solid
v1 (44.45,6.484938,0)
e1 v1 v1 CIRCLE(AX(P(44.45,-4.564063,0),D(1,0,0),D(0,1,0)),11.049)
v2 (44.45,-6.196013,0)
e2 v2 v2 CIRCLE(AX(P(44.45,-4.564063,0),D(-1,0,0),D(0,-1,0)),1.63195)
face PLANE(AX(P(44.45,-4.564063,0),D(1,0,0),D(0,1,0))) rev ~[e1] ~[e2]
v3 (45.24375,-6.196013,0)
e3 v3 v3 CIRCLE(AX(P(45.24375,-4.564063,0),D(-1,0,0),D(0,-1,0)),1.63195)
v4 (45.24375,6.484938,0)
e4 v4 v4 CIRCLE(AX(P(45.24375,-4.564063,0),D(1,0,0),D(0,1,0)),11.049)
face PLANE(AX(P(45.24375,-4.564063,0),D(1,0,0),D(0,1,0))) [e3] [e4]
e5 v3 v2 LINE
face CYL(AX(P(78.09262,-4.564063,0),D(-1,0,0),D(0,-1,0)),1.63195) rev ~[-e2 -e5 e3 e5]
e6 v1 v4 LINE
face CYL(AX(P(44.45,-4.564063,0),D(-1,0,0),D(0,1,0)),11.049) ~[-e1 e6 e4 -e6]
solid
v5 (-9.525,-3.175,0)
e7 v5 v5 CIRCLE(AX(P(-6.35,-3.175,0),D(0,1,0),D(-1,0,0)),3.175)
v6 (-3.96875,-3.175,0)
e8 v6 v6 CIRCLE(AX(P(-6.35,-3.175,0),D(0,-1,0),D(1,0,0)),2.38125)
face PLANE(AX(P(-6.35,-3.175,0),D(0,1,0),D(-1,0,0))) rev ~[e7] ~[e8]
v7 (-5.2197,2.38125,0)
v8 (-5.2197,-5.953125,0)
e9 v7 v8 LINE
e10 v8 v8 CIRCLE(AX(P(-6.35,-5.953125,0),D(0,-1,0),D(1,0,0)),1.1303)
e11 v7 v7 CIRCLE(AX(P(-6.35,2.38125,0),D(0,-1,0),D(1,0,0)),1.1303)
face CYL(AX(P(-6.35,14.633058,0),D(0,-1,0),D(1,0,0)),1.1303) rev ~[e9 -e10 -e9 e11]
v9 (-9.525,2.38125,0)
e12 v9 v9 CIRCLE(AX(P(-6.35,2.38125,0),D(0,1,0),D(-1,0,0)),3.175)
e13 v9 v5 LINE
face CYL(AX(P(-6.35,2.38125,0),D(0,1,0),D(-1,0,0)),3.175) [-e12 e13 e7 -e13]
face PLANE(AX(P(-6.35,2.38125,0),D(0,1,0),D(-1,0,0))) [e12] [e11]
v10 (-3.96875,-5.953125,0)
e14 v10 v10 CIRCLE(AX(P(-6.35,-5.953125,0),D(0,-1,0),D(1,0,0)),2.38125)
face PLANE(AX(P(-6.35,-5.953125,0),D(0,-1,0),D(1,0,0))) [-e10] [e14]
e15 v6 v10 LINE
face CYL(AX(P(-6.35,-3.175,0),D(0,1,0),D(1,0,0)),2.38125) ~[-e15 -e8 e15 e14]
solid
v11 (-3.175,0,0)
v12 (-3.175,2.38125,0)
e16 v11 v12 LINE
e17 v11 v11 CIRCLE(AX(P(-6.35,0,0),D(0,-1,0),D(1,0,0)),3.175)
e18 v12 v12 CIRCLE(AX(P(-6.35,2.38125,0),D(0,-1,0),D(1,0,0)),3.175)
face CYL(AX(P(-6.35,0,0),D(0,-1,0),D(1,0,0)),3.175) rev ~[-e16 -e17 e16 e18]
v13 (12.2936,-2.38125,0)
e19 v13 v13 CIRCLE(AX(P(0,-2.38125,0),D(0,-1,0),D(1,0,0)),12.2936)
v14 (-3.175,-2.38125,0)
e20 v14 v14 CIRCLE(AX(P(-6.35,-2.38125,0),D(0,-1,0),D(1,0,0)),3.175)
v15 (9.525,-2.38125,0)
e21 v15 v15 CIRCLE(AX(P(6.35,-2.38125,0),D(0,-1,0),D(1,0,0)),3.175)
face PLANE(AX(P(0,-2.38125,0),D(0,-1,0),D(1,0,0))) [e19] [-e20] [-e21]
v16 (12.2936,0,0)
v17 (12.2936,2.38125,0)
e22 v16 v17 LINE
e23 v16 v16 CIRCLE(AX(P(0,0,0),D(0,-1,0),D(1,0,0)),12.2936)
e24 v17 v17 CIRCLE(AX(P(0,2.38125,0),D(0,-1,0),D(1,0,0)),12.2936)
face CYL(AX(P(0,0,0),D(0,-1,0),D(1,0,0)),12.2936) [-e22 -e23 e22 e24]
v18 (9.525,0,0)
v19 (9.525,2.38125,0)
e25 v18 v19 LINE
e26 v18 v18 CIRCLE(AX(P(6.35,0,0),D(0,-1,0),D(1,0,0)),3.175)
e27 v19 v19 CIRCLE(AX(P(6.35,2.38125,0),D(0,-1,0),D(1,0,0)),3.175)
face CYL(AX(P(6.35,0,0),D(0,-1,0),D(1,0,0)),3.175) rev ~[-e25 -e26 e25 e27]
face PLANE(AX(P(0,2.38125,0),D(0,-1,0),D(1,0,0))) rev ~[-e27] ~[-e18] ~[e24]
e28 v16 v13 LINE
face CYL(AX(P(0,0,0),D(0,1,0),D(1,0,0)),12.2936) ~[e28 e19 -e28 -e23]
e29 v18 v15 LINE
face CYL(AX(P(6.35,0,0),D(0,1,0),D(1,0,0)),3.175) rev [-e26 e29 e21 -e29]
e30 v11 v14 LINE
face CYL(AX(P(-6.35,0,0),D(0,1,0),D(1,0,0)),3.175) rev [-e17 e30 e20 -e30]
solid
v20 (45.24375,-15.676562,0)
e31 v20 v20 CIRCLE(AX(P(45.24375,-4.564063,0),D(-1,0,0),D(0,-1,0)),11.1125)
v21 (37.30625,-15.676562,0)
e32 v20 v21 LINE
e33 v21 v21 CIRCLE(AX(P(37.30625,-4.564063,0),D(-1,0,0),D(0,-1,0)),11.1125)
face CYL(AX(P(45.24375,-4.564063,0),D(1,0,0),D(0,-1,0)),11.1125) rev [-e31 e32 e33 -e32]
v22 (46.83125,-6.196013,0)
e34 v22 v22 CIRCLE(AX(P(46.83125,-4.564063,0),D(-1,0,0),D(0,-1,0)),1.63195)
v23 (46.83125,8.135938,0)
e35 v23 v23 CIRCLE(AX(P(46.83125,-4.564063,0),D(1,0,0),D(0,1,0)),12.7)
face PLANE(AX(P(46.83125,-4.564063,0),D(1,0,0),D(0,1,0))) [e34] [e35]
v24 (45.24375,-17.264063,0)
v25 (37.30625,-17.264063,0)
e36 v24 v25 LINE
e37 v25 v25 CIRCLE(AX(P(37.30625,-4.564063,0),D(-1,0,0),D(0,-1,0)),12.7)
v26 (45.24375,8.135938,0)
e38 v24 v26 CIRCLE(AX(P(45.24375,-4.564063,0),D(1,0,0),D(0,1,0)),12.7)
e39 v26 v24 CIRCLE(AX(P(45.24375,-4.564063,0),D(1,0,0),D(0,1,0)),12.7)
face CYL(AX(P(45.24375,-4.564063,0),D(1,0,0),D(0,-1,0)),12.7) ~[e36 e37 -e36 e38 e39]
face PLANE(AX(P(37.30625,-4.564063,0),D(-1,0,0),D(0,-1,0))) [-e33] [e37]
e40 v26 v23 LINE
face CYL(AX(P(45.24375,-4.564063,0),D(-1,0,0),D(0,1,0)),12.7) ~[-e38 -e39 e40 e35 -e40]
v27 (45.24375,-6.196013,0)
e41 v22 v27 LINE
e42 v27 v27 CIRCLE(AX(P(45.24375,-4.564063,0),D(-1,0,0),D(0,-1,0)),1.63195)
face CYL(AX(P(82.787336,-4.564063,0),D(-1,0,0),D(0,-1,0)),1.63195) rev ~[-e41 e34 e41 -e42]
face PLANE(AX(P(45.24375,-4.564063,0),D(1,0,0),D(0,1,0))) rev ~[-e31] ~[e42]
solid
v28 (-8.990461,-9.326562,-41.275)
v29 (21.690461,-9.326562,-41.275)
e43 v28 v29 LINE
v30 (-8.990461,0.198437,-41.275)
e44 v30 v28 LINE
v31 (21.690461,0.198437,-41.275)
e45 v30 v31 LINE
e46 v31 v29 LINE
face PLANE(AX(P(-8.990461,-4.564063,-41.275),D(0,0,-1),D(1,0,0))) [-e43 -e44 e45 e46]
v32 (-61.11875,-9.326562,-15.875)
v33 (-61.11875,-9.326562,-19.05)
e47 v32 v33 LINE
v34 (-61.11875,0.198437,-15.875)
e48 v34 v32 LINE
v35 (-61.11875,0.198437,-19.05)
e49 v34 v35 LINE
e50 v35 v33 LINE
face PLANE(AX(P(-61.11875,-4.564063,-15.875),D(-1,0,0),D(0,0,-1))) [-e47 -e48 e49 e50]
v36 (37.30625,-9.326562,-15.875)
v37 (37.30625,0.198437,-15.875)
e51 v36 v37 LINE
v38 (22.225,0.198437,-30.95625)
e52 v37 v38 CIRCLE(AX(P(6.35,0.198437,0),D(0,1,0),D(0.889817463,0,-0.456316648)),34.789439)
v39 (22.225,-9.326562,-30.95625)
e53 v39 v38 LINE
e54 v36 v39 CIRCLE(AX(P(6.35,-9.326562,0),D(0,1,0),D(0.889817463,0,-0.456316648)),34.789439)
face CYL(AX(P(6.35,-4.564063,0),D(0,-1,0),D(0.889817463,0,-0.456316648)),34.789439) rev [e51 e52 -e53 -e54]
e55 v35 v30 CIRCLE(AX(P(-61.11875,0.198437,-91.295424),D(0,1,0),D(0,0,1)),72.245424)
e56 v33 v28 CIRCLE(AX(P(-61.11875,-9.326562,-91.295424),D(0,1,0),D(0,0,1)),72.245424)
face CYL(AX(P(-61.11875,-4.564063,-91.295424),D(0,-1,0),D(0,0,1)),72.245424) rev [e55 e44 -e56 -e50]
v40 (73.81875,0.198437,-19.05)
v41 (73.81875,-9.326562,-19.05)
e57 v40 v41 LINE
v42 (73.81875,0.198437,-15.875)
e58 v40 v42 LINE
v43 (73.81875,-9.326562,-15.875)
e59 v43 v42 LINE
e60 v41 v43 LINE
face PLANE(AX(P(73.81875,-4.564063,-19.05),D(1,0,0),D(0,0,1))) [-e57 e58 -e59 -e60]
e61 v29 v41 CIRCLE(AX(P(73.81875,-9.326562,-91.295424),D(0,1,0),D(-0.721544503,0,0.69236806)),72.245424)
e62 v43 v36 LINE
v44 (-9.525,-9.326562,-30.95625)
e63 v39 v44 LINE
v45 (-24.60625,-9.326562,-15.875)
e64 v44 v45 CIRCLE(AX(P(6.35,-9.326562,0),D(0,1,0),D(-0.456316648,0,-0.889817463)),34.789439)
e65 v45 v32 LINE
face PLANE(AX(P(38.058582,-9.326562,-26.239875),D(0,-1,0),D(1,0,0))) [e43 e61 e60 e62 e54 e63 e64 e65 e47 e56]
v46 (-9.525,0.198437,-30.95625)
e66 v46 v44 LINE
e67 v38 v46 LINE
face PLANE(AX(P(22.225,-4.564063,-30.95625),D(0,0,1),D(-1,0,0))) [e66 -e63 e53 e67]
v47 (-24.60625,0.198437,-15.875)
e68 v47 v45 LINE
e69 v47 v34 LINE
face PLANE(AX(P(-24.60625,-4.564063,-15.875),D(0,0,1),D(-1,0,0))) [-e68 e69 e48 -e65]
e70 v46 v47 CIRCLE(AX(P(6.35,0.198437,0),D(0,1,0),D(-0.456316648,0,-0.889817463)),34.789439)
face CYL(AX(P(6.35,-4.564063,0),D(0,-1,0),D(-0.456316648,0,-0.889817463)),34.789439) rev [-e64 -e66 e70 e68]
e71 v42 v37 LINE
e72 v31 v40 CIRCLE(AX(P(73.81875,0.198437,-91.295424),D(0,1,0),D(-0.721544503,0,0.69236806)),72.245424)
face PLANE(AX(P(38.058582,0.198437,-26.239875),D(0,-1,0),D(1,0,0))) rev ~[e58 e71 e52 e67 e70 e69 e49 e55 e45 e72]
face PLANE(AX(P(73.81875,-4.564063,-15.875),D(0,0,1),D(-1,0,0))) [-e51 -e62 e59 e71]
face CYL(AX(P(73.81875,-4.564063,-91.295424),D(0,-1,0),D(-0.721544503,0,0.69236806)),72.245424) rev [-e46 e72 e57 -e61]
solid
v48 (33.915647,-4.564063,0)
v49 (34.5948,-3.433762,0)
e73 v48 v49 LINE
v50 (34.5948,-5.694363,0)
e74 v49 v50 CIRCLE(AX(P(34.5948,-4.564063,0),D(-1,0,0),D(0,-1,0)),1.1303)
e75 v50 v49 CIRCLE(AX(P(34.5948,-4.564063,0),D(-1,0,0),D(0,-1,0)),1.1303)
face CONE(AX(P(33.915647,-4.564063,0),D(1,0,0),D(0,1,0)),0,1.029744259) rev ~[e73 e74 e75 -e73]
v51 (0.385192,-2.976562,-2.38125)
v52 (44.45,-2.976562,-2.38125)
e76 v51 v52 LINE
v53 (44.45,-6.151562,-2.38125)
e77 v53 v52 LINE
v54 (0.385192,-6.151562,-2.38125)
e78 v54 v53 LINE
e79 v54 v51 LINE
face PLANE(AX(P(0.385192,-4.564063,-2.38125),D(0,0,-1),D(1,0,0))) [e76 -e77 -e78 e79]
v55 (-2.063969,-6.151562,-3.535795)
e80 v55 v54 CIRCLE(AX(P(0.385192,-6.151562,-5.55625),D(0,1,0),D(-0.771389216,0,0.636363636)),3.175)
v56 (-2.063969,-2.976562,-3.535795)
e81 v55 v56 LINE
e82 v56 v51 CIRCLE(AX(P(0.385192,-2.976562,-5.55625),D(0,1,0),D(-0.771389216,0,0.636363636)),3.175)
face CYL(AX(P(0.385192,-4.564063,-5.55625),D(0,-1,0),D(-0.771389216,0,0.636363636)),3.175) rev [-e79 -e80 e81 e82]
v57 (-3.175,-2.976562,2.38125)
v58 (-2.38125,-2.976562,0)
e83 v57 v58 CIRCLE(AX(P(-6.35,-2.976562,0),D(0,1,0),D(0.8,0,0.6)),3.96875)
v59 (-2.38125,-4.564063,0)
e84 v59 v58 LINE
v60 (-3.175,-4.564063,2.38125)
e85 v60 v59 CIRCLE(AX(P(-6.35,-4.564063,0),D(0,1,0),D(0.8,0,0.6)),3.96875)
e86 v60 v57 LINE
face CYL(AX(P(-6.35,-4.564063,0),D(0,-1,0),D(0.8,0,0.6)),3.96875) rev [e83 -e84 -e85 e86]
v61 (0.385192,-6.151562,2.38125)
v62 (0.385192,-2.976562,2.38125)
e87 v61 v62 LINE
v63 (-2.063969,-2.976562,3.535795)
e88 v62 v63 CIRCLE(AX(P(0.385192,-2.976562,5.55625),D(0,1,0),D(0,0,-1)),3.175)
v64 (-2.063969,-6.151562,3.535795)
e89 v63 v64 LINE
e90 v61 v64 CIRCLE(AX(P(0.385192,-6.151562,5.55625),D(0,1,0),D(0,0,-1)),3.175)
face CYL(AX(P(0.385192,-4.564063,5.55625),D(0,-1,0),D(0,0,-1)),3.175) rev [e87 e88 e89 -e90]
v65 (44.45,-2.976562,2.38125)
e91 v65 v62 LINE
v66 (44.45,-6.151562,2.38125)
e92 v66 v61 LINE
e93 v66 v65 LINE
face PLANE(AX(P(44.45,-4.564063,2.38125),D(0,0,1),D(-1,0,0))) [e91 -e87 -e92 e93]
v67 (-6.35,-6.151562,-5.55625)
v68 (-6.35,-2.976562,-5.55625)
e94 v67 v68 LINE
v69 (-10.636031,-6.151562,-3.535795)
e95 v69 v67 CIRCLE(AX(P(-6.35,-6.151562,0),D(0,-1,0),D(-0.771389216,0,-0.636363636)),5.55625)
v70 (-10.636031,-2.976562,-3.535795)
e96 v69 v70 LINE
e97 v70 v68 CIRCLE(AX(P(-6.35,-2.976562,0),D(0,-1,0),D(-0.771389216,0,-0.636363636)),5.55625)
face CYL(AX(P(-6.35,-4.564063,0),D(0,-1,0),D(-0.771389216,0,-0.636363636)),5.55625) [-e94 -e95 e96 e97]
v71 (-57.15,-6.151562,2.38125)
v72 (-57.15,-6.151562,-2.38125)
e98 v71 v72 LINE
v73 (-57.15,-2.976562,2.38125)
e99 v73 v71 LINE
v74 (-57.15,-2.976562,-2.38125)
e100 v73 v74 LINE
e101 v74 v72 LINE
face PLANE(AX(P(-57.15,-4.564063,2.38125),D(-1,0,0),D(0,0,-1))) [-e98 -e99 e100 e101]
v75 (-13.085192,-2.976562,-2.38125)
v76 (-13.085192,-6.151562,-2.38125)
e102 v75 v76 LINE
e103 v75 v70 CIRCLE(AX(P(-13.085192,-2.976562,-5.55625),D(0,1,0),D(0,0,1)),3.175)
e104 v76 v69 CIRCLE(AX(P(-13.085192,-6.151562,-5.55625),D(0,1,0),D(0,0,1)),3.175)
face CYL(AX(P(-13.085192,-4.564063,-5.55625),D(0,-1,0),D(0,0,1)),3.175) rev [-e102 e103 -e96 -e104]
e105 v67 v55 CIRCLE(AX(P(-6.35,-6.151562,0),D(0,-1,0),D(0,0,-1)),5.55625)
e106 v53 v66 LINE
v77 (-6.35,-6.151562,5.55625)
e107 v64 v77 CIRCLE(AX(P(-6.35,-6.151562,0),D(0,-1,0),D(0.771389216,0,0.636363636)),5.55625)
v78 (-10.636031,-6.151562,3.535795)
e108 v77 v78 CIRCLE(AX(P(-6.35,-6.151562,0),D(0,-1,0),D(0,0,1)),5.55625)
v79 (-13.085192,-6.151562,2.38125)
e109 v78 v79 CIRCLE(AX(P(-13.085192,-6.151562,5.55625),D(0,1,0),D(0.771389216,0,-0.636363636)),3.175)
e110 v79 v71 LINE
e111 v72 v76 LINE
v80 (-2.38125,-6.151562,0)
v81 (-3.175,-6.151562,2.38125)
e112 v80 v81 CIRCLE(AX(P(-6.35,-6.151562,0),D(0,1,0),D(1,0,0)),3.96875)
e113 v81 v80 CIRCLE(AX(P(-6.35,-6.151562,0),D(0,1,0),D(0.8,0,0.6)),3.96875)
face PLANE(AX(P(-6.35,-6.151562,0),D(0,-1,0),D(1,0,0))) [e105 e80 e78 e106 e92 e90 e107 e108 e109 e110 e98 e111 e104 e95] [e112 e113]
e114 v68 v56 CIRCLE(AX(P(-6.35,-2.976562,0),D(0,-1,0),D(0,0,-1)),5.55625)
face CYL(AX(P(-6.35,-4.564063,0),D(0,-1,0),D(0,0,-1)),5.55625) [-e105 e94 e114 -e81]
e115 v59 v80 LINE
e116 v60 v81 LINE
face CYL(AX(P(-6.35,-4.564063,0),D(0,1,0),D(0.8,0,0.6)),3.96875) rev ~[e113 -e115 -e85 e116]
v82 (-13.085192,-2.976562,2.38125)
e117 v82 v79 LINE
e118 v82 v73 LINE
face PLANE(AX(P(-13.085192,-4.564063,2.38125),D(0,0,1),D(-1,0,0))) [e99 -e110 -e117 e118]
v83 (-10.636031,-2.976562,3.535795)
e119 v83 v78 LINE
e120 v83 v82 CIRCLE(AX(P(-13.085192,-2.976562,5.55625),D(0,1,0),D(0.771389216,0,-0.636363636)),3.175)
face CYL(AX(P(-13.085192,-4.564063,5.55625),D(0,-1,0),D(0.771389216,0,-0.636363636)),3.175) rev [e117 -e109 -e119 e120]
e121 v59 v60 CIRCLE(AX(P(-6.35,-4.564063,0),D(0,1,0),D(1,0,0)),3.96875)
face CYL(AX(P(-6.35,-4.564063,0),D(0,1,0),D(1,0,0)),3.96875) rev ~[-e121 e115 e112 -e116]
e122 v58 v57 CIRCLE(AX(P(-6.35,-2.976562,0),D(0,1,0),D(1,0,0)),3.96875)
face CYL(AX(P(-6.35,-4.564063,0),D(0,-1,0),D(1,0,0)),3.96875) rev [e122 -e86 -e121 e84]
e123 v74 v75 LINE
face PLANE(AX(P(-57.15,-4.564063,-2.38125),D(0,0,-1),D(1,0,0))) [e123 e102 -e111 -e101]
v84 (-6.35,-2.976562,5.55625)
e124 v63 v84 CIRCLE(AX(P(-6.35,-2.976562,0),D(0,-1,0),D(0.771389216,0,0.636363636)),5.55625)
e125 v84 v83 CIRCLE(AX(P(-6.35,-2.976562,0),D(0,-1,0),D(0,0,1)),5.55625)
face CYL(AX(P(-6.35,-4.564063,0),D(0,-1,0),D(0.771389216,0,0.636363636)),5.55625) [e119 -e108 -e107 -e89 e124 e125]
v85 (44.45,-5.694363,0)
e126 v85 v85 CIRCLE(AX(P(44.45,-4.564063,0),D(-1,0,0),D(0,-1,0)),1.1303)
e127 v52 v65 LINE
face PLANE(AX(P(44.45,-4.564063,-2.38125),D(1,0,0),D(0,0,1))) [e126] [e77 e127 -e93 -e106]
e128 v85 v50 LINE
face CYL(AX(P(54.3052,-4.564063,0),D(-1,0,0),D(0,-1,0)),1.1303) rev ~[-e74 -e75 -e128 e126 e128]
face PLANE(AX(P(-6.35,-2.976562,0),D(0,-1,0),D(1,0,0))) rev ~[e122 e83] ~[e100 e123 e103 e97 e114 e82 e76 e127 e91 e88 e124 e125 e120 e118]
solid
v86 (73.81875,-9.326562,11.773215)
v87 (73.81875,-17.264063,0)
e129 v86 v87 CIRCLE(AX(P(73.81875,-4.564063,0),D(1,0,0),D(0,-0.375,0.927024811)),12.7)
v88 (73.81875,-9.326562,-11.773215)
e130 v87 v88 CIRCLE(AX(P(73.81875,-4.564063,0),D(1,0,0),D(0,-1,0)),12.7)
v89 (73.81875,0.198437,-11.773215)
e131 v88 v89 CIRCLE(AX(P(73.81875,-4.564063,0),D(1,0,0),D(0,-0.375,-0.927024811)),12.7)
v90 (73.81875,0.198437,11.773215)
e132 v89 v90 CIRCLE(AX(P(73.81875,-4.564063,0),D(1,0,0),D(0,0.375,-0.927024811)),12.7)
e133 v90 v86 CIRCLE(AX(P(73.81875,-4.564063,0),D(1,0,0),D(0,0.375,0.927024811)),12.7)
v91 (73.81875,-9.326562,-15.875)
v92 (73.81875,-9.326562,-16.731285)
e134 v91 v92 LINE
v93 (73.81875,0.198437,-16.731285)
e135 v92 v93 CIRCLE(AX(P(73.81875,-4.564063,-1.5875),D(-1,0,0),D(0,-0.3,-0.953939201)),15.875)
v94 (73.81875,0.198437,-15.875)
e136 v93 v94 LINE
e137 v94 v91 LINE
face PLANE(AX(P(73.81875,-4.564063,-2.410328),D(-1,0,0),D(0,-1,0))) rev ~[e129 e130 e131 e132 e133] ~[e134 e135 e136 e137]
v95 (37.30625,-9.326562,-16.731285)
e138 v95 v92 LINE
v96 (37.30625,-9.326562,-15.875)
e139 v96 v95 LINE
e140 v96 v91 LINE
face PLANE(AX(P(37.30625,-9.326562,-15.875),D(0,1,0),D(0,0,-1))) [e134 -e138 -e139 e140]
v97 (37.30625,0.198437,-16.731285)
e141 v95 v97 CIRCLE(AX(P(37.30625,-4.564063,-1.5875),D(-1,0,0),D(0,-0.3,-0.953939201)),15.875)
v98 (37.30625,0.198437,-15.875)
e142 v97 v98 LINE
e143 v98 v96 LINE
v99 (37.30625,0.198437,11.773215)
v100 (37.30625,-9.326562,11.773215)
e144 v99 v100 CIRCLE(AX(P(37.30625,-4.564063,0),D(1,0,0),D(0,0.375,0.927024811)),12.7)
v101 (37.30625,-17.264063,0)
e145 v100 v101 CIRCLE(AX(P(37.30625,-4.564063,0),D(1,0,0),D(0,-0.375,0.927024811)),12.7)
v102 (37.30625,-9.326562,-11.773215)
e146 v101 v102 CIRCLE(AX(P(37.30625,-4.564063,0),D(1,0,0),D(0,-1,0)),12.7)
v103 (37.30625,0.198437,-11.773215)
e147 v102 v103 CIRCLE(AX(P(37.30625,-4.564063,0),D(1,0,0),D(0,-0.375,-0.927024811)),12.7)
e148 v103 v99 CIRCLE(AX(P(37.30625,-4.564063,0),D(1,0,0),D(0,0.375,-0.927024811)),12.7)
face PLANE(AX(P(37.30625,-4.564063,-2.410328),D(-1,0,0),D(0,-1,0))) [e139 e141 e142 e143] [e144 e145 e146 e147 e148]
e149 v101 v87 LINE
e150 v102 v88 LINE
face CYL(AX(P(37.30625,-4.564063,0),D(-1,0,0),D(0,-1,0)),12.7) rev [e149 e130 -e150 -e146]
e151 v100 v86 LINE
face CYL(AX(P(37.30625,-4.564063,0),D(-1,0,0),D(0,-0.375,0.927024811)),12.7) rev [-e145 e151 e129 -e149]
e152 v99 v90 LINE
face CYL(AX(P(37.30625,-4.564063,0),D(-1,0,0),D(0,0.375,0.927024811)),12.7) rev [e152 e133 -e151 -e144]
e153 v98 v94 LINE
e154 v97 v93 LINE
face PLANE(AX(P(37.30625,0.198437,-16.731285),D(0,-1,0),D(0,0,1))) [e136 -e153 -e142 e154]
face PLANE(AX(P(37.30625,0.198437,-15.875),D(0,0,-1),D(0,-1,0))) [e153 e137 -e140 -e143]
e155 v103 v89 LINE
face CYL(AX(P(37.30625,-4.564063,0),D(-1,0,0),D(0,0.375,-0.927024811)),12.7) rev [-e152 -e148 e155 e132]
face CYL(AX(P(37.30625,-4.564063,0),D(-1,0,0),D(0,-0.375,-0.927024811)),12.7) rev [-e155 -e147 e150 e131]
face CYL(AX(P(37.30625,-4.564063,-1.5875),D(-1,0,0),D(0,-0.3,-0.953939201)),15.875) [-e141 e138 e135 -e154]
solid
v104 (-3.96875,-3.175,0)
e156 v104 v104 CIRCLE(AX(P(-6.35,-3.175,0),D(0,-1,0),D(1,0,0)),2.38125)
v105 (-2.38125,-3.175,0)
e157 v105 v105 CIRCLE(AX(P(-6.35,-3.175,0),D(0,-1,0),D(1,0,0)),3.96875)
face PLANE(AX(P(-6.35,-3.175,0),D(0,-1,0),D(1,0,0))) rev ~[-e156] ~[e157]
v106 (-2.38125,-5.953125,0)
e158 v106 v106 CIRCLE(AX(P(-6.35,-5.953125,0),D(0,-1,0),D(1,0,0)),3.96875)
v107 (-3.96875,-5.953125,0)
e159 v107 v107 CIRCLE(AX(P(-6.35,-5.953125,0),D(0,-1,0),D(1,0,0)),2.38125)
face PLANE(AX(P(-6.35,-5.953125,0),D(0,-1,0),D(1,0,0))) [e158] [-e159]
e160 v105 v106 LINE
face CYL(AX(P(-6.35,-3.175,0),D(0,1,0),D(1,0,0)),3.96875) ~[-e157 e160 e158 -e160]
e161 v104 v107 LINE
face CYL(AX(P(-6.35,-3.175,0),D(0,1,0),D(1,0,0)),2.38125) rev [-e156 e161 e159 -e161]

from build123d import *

# Parameters (mm, degrees)
F0_R           = 12.2936
F0_R_2         = 3.175
F1_DEPTH       = 2.38125
F1_DEPTH_BACK  = 2.38125
F2_R           = 3.175
F3_DEPTH       = 5.55625
F4_R           = 2.38125
F5_DEPTH       = 2.778125
F7_D           = 2.2606
F8_R           = 3.96875
F8_R_2         = 2.38125
F9_DEPTH       = 2.778125
F12_DEPTH      = 1.5875
F12_DEPTH_BACK = 1.5875
F14_D          = 2.2606
F14_DEPTH      = 9.8552
F14_TIP        = 0.6791527577
F15_R          = 11.049
F16_DEPTH      = 0.79375
F17_R          = 12.7
F18_DEPTH      = 1.5875
F20_D          = 3.2639
F20_2_D        = 3.2639
F21_R          = 12.7
F21_R_2        = 11.1125
F22_DEPTH      = 7.9375
F24_DEPTH      = 36.5125
F27_DEPTH      = 4.7625
F27_DEPTH_BACK = 4.7625


with BuildPart() as f1:
    # F0 (on Front) → F1 (new body, two sides)
    with BuildSketch(Plane.XZ) as f1_sk:
        Circle(F0_R)
        with Locations((-6.35, 0)):
            Circle(F0_R_2, mode=Mode.SUBTRACT)
        with Locations((6.35, 0)):
            Circle(F0_R_2, mode=Mode.SUBTRACT)
    extrude(amount=-F1_DEPTH)
    extrude(f1_sk.sketch, amount=F1_DEPTH_BACK)


with BuildPart() as f3:
    # F2 (on face) → F3 (new body)
    with BuildSketch(Plane(origin=(0, 2.38125, 0), x_dir=(-1, 0, 0), z_dir=(0, 1, 0))):
        with Locations((6.35, 0)):
            Circle(F2_R)
    extrude(amount=-F3_DEPTH)

    # F4 (on face) → F5 (join)
    with BuildSketch(Plane.XZ.offset(3.175)):
        with Locations((-6.35, 0)):
            Circle(F4_R)
    extrude(amount=F5_DEPTH)

    # F7 (through all)
    with Locations(Plane(origin=(0, 2.38125, 0), x_dir=(-1, 0, 0), z_dir=(0, 1, 0))):
        with Locations((6.35, 0)):
            Hole(F7_D / 2)


with BuildPart() as f9:
    # F8 (on face) → F9 (new body)
    with BuildSketch(Plane.XZ.offset(3.175)):
        with Locations((-6.35, 0)):
            Circle(F8_R)
        with Locations((-6.35, 0)):
            Circle(F8_R_2, mode=Mode.SUBTRACT)
    extrude(amount=F9_DEPTH)


with BuildPart() as f12:
    # F11 (on offset) → F12 (new body, two sides)
    with BuildSketch(Plane.XZ.offset(4.5640625)) as f12_sk:
        with BuildLine():
            ThreePointArc((0.3851920908, 2.38125), (-0.9686324581, 2.6843544429), (-2.0639686695, 3.5357954545))
            ThreePointArc((-2.0639686695, 3.5357954545), (-3.9808070395, 5.0258172249), (-6.35, 5.55625))
            ThreePointArc((-6.35, 5.55625), (-8.7191929605, 5.0258172249), (-10.6360313305, 3.5357954545))
            ThreePointArc((-10.6360313305, 3.5357954545), (-11.7313675419, 2.6843544429), (-13.0851920908, 2.38125))
            Line((-13.0851920908, 2.38125), (-57.15, 2.38125))
            Line((-57.15, 2.38125), (-57.15, -2.38125))
            Line((-57.15, -2.38125), (-13.0851920908, -2.38125))
            ThreePointArc((-13.0851920908, -2.38125), (-11.7313675419, -2.6843544429), (-10.6360313305, -3.5357954545))
            ThreePointArc((-10.6360313305, -3.5357954545), (-8.7191929605, -5.0258172249), (-6.35, -5.55625))
            ThreePointArc((-6.35, -5.55625), (-3.9808070395, -5.0258172249), (-2.0639686695, -3.5357954545))
            ThreePointArc((-2.0639686695, -3.5357954545), (-0.9686324581, -2.6843544429), (0.3851920908, -2.38125))
            Line((0.3851920908, -2.38125), (44.45, -2.38125))
            Line((44.45, -2.38125), (44.45, 2.38125))
            Line((44.45, 2.38125), (0.3851920908, 2.38125))
        make_face()
        with BuildLine():
            ThreePointArc((-3.175, 2.38125), (-2.5849131609, 1.2550289464), (-2.38125, 0))
            ThreePointArc((-2.38125, 0), (-10.1150868391, -1.2550289464), (-3.175, 2.38125))
        make_face(mode=Mode.SUBTRACT)
    extrude(amount=F12_DEPTH)
    extrude(f12_sk.sketch, amount=-F12_DEPTH_BACK)

    # F14
    with Locations(Plane.YZ.offset(44.45)):
        with Locations((-4.5640625, 0)):
            Hole(F14_D / 2, depth=F14_DEPTH)
            with Locations((0, 0, -(F14_DEPTH + F14_TIP / 2))):  # 118° drill point
                Cone(0, F14_D / 2, F14_TIP, mode=Mode.SUBTRACT)


with BuildPart() as f16:
    # F15 (on face) → F16 (new body)
    with BuildSketch(Plane.YZ.offset(44.45)):
        with Locations((-4.5640625, 0)):
            Circle(F15_R)
    extrude(amount=F16_DEPTH)

    # F20 (through all)
    with Locations(Plane.YZ.offset(46.83125)):
        with Locations((-4.5640625, 0)):
            Hole(F20_D / 2)


with BuildPart() as f18:
    # F17 (on face) → F18 (new body)
    with BuildSketch(Plane.YZ.offset(45.24375)):
        with Locations((-4.5640625, 0)):
            Circle(F17_R)
    extrude(amount=F18_DEPTH)

    # F20#2 (through all)
    with Locations(Plane.YZ.offset(46.83125)):
        with Locations((-4.5640625, 0)):
            Hole(F20_2_D / 2)

    # F21 (on face) → F22 (join)
    with BuildSketch(Plane(origin=(45.24375, 0, 0), x_dir=(0, -1, 0), z_dir=(-1, 0, 0))):
        with Locations((4.5640625, 0)):
            Circle(F21_R)
        with Locations((4.5640625, 0)):
            Circle(F21_R_2, mode=Mode.SUBTRACT)
    extrude(amount=F22_DEPTH)


with BuildPart() as f24:
    # F23 (on face) → F24 (new body)
    with BuildSketch(Plane(origin=(37.30625, 0, 0), x_dir=(0, -1, 0), z_dir=(-1, 0, 0))):
        with BuildLine():
            Line((9.3265625, -15.875), (9.3265625, -16.7312848225))
            ThreePointArc((9.3265625, -16.7312848225), (4.5640625, 14.2875), (-0.1984375, -16.7312848225))
            Line((-0.1984375, -16.7312848225), (-0.1984375, -15.875))
            Line((-0.1984375, -15.875), (9.3265625, -15.875))
        make_face()
        with BuildLine():
            ThreePointArc((9.3265625, 11.7732150983), (15.0943462094, 7.0995158286), (17.2640625, 0))
            ThreePointArc((17.2640625, 0), (15.0943462094, -7.0995158286), (9.3265625, -11.7732150983))
            ThreePointArc((9.3265625, -11.7732150983), (4.5640625, -12.7), (-0.1984375, -11.7732150983))
            ThreePointArc((-0.1984375, -11.7732150983), (-8.1359375, 0), (-0.1984375, 11.7732150983))
            ThreePointArc((-0.1984375, 11.7732150983), (4.5640625, 12.7), (9.3265625, 11.7732150983))
        make_face(mode=Mode.SUBTRACT)
    extrude(amount=-F24_DEPTH)


with BuildPart() as f27:
    # F26 (on offset) → F27 (new body, two sides)
    with BuildSketch(Plane.XZ.offset(4.5640625)) as f27_sk:
        with BuildLine():
            Line((22.225, -30.95625), (6.35, -30.95625))
            Line((6.35, -30.95625), (6.35, -41.275))
            Line((6.35, -41.275), (21.6904613597, -41.275))
            ThreePointArc((21.6904613597, -41.275), (45.4845431928, -24.8381142832), (73.81875, -19.05))
            Line((73.81875, -19.05), (73.81875, -15.875))
            Line((73.81875, -15.875), (37.30625, -15.875))
            ThreePointArc((37.30625, -15.875), (30.9498479575, -24.5998479575), (22.225, -30.95625))
        make_face()
        with BuildLine():
            Line((6.35, -41.275), (6.35, -30.95625))
            Line((6.35, -30.95625), (-9.525, -30.95625))
            ThreePointArc((-9.525, -30.95625), (-18.2498479575, -24.5998479575), (-24.60625, -15.875))
            Line((-24.60625, -15.875), (-61.11875, -15.875))
            Line((-61.11875, -15.875), (-61.11875, -19.05))
            ThreePointArc((-61.11875, -19.05), (-32.7845431928, -24.8381142832), (-8.9904613597, -41.275))
            Line((-8.9904613597, -41.275), (6.35, -41.275))
        make_face()
    extrude(amount=F27_DEPTH)
    extrude(f27_sk.sketch, amount=-F27_DEPTH_BACK)


solid = Compound([f1.part, f3.part, f9.part, f12.part, f16.part, f18.part, f24.part, f27.part])
